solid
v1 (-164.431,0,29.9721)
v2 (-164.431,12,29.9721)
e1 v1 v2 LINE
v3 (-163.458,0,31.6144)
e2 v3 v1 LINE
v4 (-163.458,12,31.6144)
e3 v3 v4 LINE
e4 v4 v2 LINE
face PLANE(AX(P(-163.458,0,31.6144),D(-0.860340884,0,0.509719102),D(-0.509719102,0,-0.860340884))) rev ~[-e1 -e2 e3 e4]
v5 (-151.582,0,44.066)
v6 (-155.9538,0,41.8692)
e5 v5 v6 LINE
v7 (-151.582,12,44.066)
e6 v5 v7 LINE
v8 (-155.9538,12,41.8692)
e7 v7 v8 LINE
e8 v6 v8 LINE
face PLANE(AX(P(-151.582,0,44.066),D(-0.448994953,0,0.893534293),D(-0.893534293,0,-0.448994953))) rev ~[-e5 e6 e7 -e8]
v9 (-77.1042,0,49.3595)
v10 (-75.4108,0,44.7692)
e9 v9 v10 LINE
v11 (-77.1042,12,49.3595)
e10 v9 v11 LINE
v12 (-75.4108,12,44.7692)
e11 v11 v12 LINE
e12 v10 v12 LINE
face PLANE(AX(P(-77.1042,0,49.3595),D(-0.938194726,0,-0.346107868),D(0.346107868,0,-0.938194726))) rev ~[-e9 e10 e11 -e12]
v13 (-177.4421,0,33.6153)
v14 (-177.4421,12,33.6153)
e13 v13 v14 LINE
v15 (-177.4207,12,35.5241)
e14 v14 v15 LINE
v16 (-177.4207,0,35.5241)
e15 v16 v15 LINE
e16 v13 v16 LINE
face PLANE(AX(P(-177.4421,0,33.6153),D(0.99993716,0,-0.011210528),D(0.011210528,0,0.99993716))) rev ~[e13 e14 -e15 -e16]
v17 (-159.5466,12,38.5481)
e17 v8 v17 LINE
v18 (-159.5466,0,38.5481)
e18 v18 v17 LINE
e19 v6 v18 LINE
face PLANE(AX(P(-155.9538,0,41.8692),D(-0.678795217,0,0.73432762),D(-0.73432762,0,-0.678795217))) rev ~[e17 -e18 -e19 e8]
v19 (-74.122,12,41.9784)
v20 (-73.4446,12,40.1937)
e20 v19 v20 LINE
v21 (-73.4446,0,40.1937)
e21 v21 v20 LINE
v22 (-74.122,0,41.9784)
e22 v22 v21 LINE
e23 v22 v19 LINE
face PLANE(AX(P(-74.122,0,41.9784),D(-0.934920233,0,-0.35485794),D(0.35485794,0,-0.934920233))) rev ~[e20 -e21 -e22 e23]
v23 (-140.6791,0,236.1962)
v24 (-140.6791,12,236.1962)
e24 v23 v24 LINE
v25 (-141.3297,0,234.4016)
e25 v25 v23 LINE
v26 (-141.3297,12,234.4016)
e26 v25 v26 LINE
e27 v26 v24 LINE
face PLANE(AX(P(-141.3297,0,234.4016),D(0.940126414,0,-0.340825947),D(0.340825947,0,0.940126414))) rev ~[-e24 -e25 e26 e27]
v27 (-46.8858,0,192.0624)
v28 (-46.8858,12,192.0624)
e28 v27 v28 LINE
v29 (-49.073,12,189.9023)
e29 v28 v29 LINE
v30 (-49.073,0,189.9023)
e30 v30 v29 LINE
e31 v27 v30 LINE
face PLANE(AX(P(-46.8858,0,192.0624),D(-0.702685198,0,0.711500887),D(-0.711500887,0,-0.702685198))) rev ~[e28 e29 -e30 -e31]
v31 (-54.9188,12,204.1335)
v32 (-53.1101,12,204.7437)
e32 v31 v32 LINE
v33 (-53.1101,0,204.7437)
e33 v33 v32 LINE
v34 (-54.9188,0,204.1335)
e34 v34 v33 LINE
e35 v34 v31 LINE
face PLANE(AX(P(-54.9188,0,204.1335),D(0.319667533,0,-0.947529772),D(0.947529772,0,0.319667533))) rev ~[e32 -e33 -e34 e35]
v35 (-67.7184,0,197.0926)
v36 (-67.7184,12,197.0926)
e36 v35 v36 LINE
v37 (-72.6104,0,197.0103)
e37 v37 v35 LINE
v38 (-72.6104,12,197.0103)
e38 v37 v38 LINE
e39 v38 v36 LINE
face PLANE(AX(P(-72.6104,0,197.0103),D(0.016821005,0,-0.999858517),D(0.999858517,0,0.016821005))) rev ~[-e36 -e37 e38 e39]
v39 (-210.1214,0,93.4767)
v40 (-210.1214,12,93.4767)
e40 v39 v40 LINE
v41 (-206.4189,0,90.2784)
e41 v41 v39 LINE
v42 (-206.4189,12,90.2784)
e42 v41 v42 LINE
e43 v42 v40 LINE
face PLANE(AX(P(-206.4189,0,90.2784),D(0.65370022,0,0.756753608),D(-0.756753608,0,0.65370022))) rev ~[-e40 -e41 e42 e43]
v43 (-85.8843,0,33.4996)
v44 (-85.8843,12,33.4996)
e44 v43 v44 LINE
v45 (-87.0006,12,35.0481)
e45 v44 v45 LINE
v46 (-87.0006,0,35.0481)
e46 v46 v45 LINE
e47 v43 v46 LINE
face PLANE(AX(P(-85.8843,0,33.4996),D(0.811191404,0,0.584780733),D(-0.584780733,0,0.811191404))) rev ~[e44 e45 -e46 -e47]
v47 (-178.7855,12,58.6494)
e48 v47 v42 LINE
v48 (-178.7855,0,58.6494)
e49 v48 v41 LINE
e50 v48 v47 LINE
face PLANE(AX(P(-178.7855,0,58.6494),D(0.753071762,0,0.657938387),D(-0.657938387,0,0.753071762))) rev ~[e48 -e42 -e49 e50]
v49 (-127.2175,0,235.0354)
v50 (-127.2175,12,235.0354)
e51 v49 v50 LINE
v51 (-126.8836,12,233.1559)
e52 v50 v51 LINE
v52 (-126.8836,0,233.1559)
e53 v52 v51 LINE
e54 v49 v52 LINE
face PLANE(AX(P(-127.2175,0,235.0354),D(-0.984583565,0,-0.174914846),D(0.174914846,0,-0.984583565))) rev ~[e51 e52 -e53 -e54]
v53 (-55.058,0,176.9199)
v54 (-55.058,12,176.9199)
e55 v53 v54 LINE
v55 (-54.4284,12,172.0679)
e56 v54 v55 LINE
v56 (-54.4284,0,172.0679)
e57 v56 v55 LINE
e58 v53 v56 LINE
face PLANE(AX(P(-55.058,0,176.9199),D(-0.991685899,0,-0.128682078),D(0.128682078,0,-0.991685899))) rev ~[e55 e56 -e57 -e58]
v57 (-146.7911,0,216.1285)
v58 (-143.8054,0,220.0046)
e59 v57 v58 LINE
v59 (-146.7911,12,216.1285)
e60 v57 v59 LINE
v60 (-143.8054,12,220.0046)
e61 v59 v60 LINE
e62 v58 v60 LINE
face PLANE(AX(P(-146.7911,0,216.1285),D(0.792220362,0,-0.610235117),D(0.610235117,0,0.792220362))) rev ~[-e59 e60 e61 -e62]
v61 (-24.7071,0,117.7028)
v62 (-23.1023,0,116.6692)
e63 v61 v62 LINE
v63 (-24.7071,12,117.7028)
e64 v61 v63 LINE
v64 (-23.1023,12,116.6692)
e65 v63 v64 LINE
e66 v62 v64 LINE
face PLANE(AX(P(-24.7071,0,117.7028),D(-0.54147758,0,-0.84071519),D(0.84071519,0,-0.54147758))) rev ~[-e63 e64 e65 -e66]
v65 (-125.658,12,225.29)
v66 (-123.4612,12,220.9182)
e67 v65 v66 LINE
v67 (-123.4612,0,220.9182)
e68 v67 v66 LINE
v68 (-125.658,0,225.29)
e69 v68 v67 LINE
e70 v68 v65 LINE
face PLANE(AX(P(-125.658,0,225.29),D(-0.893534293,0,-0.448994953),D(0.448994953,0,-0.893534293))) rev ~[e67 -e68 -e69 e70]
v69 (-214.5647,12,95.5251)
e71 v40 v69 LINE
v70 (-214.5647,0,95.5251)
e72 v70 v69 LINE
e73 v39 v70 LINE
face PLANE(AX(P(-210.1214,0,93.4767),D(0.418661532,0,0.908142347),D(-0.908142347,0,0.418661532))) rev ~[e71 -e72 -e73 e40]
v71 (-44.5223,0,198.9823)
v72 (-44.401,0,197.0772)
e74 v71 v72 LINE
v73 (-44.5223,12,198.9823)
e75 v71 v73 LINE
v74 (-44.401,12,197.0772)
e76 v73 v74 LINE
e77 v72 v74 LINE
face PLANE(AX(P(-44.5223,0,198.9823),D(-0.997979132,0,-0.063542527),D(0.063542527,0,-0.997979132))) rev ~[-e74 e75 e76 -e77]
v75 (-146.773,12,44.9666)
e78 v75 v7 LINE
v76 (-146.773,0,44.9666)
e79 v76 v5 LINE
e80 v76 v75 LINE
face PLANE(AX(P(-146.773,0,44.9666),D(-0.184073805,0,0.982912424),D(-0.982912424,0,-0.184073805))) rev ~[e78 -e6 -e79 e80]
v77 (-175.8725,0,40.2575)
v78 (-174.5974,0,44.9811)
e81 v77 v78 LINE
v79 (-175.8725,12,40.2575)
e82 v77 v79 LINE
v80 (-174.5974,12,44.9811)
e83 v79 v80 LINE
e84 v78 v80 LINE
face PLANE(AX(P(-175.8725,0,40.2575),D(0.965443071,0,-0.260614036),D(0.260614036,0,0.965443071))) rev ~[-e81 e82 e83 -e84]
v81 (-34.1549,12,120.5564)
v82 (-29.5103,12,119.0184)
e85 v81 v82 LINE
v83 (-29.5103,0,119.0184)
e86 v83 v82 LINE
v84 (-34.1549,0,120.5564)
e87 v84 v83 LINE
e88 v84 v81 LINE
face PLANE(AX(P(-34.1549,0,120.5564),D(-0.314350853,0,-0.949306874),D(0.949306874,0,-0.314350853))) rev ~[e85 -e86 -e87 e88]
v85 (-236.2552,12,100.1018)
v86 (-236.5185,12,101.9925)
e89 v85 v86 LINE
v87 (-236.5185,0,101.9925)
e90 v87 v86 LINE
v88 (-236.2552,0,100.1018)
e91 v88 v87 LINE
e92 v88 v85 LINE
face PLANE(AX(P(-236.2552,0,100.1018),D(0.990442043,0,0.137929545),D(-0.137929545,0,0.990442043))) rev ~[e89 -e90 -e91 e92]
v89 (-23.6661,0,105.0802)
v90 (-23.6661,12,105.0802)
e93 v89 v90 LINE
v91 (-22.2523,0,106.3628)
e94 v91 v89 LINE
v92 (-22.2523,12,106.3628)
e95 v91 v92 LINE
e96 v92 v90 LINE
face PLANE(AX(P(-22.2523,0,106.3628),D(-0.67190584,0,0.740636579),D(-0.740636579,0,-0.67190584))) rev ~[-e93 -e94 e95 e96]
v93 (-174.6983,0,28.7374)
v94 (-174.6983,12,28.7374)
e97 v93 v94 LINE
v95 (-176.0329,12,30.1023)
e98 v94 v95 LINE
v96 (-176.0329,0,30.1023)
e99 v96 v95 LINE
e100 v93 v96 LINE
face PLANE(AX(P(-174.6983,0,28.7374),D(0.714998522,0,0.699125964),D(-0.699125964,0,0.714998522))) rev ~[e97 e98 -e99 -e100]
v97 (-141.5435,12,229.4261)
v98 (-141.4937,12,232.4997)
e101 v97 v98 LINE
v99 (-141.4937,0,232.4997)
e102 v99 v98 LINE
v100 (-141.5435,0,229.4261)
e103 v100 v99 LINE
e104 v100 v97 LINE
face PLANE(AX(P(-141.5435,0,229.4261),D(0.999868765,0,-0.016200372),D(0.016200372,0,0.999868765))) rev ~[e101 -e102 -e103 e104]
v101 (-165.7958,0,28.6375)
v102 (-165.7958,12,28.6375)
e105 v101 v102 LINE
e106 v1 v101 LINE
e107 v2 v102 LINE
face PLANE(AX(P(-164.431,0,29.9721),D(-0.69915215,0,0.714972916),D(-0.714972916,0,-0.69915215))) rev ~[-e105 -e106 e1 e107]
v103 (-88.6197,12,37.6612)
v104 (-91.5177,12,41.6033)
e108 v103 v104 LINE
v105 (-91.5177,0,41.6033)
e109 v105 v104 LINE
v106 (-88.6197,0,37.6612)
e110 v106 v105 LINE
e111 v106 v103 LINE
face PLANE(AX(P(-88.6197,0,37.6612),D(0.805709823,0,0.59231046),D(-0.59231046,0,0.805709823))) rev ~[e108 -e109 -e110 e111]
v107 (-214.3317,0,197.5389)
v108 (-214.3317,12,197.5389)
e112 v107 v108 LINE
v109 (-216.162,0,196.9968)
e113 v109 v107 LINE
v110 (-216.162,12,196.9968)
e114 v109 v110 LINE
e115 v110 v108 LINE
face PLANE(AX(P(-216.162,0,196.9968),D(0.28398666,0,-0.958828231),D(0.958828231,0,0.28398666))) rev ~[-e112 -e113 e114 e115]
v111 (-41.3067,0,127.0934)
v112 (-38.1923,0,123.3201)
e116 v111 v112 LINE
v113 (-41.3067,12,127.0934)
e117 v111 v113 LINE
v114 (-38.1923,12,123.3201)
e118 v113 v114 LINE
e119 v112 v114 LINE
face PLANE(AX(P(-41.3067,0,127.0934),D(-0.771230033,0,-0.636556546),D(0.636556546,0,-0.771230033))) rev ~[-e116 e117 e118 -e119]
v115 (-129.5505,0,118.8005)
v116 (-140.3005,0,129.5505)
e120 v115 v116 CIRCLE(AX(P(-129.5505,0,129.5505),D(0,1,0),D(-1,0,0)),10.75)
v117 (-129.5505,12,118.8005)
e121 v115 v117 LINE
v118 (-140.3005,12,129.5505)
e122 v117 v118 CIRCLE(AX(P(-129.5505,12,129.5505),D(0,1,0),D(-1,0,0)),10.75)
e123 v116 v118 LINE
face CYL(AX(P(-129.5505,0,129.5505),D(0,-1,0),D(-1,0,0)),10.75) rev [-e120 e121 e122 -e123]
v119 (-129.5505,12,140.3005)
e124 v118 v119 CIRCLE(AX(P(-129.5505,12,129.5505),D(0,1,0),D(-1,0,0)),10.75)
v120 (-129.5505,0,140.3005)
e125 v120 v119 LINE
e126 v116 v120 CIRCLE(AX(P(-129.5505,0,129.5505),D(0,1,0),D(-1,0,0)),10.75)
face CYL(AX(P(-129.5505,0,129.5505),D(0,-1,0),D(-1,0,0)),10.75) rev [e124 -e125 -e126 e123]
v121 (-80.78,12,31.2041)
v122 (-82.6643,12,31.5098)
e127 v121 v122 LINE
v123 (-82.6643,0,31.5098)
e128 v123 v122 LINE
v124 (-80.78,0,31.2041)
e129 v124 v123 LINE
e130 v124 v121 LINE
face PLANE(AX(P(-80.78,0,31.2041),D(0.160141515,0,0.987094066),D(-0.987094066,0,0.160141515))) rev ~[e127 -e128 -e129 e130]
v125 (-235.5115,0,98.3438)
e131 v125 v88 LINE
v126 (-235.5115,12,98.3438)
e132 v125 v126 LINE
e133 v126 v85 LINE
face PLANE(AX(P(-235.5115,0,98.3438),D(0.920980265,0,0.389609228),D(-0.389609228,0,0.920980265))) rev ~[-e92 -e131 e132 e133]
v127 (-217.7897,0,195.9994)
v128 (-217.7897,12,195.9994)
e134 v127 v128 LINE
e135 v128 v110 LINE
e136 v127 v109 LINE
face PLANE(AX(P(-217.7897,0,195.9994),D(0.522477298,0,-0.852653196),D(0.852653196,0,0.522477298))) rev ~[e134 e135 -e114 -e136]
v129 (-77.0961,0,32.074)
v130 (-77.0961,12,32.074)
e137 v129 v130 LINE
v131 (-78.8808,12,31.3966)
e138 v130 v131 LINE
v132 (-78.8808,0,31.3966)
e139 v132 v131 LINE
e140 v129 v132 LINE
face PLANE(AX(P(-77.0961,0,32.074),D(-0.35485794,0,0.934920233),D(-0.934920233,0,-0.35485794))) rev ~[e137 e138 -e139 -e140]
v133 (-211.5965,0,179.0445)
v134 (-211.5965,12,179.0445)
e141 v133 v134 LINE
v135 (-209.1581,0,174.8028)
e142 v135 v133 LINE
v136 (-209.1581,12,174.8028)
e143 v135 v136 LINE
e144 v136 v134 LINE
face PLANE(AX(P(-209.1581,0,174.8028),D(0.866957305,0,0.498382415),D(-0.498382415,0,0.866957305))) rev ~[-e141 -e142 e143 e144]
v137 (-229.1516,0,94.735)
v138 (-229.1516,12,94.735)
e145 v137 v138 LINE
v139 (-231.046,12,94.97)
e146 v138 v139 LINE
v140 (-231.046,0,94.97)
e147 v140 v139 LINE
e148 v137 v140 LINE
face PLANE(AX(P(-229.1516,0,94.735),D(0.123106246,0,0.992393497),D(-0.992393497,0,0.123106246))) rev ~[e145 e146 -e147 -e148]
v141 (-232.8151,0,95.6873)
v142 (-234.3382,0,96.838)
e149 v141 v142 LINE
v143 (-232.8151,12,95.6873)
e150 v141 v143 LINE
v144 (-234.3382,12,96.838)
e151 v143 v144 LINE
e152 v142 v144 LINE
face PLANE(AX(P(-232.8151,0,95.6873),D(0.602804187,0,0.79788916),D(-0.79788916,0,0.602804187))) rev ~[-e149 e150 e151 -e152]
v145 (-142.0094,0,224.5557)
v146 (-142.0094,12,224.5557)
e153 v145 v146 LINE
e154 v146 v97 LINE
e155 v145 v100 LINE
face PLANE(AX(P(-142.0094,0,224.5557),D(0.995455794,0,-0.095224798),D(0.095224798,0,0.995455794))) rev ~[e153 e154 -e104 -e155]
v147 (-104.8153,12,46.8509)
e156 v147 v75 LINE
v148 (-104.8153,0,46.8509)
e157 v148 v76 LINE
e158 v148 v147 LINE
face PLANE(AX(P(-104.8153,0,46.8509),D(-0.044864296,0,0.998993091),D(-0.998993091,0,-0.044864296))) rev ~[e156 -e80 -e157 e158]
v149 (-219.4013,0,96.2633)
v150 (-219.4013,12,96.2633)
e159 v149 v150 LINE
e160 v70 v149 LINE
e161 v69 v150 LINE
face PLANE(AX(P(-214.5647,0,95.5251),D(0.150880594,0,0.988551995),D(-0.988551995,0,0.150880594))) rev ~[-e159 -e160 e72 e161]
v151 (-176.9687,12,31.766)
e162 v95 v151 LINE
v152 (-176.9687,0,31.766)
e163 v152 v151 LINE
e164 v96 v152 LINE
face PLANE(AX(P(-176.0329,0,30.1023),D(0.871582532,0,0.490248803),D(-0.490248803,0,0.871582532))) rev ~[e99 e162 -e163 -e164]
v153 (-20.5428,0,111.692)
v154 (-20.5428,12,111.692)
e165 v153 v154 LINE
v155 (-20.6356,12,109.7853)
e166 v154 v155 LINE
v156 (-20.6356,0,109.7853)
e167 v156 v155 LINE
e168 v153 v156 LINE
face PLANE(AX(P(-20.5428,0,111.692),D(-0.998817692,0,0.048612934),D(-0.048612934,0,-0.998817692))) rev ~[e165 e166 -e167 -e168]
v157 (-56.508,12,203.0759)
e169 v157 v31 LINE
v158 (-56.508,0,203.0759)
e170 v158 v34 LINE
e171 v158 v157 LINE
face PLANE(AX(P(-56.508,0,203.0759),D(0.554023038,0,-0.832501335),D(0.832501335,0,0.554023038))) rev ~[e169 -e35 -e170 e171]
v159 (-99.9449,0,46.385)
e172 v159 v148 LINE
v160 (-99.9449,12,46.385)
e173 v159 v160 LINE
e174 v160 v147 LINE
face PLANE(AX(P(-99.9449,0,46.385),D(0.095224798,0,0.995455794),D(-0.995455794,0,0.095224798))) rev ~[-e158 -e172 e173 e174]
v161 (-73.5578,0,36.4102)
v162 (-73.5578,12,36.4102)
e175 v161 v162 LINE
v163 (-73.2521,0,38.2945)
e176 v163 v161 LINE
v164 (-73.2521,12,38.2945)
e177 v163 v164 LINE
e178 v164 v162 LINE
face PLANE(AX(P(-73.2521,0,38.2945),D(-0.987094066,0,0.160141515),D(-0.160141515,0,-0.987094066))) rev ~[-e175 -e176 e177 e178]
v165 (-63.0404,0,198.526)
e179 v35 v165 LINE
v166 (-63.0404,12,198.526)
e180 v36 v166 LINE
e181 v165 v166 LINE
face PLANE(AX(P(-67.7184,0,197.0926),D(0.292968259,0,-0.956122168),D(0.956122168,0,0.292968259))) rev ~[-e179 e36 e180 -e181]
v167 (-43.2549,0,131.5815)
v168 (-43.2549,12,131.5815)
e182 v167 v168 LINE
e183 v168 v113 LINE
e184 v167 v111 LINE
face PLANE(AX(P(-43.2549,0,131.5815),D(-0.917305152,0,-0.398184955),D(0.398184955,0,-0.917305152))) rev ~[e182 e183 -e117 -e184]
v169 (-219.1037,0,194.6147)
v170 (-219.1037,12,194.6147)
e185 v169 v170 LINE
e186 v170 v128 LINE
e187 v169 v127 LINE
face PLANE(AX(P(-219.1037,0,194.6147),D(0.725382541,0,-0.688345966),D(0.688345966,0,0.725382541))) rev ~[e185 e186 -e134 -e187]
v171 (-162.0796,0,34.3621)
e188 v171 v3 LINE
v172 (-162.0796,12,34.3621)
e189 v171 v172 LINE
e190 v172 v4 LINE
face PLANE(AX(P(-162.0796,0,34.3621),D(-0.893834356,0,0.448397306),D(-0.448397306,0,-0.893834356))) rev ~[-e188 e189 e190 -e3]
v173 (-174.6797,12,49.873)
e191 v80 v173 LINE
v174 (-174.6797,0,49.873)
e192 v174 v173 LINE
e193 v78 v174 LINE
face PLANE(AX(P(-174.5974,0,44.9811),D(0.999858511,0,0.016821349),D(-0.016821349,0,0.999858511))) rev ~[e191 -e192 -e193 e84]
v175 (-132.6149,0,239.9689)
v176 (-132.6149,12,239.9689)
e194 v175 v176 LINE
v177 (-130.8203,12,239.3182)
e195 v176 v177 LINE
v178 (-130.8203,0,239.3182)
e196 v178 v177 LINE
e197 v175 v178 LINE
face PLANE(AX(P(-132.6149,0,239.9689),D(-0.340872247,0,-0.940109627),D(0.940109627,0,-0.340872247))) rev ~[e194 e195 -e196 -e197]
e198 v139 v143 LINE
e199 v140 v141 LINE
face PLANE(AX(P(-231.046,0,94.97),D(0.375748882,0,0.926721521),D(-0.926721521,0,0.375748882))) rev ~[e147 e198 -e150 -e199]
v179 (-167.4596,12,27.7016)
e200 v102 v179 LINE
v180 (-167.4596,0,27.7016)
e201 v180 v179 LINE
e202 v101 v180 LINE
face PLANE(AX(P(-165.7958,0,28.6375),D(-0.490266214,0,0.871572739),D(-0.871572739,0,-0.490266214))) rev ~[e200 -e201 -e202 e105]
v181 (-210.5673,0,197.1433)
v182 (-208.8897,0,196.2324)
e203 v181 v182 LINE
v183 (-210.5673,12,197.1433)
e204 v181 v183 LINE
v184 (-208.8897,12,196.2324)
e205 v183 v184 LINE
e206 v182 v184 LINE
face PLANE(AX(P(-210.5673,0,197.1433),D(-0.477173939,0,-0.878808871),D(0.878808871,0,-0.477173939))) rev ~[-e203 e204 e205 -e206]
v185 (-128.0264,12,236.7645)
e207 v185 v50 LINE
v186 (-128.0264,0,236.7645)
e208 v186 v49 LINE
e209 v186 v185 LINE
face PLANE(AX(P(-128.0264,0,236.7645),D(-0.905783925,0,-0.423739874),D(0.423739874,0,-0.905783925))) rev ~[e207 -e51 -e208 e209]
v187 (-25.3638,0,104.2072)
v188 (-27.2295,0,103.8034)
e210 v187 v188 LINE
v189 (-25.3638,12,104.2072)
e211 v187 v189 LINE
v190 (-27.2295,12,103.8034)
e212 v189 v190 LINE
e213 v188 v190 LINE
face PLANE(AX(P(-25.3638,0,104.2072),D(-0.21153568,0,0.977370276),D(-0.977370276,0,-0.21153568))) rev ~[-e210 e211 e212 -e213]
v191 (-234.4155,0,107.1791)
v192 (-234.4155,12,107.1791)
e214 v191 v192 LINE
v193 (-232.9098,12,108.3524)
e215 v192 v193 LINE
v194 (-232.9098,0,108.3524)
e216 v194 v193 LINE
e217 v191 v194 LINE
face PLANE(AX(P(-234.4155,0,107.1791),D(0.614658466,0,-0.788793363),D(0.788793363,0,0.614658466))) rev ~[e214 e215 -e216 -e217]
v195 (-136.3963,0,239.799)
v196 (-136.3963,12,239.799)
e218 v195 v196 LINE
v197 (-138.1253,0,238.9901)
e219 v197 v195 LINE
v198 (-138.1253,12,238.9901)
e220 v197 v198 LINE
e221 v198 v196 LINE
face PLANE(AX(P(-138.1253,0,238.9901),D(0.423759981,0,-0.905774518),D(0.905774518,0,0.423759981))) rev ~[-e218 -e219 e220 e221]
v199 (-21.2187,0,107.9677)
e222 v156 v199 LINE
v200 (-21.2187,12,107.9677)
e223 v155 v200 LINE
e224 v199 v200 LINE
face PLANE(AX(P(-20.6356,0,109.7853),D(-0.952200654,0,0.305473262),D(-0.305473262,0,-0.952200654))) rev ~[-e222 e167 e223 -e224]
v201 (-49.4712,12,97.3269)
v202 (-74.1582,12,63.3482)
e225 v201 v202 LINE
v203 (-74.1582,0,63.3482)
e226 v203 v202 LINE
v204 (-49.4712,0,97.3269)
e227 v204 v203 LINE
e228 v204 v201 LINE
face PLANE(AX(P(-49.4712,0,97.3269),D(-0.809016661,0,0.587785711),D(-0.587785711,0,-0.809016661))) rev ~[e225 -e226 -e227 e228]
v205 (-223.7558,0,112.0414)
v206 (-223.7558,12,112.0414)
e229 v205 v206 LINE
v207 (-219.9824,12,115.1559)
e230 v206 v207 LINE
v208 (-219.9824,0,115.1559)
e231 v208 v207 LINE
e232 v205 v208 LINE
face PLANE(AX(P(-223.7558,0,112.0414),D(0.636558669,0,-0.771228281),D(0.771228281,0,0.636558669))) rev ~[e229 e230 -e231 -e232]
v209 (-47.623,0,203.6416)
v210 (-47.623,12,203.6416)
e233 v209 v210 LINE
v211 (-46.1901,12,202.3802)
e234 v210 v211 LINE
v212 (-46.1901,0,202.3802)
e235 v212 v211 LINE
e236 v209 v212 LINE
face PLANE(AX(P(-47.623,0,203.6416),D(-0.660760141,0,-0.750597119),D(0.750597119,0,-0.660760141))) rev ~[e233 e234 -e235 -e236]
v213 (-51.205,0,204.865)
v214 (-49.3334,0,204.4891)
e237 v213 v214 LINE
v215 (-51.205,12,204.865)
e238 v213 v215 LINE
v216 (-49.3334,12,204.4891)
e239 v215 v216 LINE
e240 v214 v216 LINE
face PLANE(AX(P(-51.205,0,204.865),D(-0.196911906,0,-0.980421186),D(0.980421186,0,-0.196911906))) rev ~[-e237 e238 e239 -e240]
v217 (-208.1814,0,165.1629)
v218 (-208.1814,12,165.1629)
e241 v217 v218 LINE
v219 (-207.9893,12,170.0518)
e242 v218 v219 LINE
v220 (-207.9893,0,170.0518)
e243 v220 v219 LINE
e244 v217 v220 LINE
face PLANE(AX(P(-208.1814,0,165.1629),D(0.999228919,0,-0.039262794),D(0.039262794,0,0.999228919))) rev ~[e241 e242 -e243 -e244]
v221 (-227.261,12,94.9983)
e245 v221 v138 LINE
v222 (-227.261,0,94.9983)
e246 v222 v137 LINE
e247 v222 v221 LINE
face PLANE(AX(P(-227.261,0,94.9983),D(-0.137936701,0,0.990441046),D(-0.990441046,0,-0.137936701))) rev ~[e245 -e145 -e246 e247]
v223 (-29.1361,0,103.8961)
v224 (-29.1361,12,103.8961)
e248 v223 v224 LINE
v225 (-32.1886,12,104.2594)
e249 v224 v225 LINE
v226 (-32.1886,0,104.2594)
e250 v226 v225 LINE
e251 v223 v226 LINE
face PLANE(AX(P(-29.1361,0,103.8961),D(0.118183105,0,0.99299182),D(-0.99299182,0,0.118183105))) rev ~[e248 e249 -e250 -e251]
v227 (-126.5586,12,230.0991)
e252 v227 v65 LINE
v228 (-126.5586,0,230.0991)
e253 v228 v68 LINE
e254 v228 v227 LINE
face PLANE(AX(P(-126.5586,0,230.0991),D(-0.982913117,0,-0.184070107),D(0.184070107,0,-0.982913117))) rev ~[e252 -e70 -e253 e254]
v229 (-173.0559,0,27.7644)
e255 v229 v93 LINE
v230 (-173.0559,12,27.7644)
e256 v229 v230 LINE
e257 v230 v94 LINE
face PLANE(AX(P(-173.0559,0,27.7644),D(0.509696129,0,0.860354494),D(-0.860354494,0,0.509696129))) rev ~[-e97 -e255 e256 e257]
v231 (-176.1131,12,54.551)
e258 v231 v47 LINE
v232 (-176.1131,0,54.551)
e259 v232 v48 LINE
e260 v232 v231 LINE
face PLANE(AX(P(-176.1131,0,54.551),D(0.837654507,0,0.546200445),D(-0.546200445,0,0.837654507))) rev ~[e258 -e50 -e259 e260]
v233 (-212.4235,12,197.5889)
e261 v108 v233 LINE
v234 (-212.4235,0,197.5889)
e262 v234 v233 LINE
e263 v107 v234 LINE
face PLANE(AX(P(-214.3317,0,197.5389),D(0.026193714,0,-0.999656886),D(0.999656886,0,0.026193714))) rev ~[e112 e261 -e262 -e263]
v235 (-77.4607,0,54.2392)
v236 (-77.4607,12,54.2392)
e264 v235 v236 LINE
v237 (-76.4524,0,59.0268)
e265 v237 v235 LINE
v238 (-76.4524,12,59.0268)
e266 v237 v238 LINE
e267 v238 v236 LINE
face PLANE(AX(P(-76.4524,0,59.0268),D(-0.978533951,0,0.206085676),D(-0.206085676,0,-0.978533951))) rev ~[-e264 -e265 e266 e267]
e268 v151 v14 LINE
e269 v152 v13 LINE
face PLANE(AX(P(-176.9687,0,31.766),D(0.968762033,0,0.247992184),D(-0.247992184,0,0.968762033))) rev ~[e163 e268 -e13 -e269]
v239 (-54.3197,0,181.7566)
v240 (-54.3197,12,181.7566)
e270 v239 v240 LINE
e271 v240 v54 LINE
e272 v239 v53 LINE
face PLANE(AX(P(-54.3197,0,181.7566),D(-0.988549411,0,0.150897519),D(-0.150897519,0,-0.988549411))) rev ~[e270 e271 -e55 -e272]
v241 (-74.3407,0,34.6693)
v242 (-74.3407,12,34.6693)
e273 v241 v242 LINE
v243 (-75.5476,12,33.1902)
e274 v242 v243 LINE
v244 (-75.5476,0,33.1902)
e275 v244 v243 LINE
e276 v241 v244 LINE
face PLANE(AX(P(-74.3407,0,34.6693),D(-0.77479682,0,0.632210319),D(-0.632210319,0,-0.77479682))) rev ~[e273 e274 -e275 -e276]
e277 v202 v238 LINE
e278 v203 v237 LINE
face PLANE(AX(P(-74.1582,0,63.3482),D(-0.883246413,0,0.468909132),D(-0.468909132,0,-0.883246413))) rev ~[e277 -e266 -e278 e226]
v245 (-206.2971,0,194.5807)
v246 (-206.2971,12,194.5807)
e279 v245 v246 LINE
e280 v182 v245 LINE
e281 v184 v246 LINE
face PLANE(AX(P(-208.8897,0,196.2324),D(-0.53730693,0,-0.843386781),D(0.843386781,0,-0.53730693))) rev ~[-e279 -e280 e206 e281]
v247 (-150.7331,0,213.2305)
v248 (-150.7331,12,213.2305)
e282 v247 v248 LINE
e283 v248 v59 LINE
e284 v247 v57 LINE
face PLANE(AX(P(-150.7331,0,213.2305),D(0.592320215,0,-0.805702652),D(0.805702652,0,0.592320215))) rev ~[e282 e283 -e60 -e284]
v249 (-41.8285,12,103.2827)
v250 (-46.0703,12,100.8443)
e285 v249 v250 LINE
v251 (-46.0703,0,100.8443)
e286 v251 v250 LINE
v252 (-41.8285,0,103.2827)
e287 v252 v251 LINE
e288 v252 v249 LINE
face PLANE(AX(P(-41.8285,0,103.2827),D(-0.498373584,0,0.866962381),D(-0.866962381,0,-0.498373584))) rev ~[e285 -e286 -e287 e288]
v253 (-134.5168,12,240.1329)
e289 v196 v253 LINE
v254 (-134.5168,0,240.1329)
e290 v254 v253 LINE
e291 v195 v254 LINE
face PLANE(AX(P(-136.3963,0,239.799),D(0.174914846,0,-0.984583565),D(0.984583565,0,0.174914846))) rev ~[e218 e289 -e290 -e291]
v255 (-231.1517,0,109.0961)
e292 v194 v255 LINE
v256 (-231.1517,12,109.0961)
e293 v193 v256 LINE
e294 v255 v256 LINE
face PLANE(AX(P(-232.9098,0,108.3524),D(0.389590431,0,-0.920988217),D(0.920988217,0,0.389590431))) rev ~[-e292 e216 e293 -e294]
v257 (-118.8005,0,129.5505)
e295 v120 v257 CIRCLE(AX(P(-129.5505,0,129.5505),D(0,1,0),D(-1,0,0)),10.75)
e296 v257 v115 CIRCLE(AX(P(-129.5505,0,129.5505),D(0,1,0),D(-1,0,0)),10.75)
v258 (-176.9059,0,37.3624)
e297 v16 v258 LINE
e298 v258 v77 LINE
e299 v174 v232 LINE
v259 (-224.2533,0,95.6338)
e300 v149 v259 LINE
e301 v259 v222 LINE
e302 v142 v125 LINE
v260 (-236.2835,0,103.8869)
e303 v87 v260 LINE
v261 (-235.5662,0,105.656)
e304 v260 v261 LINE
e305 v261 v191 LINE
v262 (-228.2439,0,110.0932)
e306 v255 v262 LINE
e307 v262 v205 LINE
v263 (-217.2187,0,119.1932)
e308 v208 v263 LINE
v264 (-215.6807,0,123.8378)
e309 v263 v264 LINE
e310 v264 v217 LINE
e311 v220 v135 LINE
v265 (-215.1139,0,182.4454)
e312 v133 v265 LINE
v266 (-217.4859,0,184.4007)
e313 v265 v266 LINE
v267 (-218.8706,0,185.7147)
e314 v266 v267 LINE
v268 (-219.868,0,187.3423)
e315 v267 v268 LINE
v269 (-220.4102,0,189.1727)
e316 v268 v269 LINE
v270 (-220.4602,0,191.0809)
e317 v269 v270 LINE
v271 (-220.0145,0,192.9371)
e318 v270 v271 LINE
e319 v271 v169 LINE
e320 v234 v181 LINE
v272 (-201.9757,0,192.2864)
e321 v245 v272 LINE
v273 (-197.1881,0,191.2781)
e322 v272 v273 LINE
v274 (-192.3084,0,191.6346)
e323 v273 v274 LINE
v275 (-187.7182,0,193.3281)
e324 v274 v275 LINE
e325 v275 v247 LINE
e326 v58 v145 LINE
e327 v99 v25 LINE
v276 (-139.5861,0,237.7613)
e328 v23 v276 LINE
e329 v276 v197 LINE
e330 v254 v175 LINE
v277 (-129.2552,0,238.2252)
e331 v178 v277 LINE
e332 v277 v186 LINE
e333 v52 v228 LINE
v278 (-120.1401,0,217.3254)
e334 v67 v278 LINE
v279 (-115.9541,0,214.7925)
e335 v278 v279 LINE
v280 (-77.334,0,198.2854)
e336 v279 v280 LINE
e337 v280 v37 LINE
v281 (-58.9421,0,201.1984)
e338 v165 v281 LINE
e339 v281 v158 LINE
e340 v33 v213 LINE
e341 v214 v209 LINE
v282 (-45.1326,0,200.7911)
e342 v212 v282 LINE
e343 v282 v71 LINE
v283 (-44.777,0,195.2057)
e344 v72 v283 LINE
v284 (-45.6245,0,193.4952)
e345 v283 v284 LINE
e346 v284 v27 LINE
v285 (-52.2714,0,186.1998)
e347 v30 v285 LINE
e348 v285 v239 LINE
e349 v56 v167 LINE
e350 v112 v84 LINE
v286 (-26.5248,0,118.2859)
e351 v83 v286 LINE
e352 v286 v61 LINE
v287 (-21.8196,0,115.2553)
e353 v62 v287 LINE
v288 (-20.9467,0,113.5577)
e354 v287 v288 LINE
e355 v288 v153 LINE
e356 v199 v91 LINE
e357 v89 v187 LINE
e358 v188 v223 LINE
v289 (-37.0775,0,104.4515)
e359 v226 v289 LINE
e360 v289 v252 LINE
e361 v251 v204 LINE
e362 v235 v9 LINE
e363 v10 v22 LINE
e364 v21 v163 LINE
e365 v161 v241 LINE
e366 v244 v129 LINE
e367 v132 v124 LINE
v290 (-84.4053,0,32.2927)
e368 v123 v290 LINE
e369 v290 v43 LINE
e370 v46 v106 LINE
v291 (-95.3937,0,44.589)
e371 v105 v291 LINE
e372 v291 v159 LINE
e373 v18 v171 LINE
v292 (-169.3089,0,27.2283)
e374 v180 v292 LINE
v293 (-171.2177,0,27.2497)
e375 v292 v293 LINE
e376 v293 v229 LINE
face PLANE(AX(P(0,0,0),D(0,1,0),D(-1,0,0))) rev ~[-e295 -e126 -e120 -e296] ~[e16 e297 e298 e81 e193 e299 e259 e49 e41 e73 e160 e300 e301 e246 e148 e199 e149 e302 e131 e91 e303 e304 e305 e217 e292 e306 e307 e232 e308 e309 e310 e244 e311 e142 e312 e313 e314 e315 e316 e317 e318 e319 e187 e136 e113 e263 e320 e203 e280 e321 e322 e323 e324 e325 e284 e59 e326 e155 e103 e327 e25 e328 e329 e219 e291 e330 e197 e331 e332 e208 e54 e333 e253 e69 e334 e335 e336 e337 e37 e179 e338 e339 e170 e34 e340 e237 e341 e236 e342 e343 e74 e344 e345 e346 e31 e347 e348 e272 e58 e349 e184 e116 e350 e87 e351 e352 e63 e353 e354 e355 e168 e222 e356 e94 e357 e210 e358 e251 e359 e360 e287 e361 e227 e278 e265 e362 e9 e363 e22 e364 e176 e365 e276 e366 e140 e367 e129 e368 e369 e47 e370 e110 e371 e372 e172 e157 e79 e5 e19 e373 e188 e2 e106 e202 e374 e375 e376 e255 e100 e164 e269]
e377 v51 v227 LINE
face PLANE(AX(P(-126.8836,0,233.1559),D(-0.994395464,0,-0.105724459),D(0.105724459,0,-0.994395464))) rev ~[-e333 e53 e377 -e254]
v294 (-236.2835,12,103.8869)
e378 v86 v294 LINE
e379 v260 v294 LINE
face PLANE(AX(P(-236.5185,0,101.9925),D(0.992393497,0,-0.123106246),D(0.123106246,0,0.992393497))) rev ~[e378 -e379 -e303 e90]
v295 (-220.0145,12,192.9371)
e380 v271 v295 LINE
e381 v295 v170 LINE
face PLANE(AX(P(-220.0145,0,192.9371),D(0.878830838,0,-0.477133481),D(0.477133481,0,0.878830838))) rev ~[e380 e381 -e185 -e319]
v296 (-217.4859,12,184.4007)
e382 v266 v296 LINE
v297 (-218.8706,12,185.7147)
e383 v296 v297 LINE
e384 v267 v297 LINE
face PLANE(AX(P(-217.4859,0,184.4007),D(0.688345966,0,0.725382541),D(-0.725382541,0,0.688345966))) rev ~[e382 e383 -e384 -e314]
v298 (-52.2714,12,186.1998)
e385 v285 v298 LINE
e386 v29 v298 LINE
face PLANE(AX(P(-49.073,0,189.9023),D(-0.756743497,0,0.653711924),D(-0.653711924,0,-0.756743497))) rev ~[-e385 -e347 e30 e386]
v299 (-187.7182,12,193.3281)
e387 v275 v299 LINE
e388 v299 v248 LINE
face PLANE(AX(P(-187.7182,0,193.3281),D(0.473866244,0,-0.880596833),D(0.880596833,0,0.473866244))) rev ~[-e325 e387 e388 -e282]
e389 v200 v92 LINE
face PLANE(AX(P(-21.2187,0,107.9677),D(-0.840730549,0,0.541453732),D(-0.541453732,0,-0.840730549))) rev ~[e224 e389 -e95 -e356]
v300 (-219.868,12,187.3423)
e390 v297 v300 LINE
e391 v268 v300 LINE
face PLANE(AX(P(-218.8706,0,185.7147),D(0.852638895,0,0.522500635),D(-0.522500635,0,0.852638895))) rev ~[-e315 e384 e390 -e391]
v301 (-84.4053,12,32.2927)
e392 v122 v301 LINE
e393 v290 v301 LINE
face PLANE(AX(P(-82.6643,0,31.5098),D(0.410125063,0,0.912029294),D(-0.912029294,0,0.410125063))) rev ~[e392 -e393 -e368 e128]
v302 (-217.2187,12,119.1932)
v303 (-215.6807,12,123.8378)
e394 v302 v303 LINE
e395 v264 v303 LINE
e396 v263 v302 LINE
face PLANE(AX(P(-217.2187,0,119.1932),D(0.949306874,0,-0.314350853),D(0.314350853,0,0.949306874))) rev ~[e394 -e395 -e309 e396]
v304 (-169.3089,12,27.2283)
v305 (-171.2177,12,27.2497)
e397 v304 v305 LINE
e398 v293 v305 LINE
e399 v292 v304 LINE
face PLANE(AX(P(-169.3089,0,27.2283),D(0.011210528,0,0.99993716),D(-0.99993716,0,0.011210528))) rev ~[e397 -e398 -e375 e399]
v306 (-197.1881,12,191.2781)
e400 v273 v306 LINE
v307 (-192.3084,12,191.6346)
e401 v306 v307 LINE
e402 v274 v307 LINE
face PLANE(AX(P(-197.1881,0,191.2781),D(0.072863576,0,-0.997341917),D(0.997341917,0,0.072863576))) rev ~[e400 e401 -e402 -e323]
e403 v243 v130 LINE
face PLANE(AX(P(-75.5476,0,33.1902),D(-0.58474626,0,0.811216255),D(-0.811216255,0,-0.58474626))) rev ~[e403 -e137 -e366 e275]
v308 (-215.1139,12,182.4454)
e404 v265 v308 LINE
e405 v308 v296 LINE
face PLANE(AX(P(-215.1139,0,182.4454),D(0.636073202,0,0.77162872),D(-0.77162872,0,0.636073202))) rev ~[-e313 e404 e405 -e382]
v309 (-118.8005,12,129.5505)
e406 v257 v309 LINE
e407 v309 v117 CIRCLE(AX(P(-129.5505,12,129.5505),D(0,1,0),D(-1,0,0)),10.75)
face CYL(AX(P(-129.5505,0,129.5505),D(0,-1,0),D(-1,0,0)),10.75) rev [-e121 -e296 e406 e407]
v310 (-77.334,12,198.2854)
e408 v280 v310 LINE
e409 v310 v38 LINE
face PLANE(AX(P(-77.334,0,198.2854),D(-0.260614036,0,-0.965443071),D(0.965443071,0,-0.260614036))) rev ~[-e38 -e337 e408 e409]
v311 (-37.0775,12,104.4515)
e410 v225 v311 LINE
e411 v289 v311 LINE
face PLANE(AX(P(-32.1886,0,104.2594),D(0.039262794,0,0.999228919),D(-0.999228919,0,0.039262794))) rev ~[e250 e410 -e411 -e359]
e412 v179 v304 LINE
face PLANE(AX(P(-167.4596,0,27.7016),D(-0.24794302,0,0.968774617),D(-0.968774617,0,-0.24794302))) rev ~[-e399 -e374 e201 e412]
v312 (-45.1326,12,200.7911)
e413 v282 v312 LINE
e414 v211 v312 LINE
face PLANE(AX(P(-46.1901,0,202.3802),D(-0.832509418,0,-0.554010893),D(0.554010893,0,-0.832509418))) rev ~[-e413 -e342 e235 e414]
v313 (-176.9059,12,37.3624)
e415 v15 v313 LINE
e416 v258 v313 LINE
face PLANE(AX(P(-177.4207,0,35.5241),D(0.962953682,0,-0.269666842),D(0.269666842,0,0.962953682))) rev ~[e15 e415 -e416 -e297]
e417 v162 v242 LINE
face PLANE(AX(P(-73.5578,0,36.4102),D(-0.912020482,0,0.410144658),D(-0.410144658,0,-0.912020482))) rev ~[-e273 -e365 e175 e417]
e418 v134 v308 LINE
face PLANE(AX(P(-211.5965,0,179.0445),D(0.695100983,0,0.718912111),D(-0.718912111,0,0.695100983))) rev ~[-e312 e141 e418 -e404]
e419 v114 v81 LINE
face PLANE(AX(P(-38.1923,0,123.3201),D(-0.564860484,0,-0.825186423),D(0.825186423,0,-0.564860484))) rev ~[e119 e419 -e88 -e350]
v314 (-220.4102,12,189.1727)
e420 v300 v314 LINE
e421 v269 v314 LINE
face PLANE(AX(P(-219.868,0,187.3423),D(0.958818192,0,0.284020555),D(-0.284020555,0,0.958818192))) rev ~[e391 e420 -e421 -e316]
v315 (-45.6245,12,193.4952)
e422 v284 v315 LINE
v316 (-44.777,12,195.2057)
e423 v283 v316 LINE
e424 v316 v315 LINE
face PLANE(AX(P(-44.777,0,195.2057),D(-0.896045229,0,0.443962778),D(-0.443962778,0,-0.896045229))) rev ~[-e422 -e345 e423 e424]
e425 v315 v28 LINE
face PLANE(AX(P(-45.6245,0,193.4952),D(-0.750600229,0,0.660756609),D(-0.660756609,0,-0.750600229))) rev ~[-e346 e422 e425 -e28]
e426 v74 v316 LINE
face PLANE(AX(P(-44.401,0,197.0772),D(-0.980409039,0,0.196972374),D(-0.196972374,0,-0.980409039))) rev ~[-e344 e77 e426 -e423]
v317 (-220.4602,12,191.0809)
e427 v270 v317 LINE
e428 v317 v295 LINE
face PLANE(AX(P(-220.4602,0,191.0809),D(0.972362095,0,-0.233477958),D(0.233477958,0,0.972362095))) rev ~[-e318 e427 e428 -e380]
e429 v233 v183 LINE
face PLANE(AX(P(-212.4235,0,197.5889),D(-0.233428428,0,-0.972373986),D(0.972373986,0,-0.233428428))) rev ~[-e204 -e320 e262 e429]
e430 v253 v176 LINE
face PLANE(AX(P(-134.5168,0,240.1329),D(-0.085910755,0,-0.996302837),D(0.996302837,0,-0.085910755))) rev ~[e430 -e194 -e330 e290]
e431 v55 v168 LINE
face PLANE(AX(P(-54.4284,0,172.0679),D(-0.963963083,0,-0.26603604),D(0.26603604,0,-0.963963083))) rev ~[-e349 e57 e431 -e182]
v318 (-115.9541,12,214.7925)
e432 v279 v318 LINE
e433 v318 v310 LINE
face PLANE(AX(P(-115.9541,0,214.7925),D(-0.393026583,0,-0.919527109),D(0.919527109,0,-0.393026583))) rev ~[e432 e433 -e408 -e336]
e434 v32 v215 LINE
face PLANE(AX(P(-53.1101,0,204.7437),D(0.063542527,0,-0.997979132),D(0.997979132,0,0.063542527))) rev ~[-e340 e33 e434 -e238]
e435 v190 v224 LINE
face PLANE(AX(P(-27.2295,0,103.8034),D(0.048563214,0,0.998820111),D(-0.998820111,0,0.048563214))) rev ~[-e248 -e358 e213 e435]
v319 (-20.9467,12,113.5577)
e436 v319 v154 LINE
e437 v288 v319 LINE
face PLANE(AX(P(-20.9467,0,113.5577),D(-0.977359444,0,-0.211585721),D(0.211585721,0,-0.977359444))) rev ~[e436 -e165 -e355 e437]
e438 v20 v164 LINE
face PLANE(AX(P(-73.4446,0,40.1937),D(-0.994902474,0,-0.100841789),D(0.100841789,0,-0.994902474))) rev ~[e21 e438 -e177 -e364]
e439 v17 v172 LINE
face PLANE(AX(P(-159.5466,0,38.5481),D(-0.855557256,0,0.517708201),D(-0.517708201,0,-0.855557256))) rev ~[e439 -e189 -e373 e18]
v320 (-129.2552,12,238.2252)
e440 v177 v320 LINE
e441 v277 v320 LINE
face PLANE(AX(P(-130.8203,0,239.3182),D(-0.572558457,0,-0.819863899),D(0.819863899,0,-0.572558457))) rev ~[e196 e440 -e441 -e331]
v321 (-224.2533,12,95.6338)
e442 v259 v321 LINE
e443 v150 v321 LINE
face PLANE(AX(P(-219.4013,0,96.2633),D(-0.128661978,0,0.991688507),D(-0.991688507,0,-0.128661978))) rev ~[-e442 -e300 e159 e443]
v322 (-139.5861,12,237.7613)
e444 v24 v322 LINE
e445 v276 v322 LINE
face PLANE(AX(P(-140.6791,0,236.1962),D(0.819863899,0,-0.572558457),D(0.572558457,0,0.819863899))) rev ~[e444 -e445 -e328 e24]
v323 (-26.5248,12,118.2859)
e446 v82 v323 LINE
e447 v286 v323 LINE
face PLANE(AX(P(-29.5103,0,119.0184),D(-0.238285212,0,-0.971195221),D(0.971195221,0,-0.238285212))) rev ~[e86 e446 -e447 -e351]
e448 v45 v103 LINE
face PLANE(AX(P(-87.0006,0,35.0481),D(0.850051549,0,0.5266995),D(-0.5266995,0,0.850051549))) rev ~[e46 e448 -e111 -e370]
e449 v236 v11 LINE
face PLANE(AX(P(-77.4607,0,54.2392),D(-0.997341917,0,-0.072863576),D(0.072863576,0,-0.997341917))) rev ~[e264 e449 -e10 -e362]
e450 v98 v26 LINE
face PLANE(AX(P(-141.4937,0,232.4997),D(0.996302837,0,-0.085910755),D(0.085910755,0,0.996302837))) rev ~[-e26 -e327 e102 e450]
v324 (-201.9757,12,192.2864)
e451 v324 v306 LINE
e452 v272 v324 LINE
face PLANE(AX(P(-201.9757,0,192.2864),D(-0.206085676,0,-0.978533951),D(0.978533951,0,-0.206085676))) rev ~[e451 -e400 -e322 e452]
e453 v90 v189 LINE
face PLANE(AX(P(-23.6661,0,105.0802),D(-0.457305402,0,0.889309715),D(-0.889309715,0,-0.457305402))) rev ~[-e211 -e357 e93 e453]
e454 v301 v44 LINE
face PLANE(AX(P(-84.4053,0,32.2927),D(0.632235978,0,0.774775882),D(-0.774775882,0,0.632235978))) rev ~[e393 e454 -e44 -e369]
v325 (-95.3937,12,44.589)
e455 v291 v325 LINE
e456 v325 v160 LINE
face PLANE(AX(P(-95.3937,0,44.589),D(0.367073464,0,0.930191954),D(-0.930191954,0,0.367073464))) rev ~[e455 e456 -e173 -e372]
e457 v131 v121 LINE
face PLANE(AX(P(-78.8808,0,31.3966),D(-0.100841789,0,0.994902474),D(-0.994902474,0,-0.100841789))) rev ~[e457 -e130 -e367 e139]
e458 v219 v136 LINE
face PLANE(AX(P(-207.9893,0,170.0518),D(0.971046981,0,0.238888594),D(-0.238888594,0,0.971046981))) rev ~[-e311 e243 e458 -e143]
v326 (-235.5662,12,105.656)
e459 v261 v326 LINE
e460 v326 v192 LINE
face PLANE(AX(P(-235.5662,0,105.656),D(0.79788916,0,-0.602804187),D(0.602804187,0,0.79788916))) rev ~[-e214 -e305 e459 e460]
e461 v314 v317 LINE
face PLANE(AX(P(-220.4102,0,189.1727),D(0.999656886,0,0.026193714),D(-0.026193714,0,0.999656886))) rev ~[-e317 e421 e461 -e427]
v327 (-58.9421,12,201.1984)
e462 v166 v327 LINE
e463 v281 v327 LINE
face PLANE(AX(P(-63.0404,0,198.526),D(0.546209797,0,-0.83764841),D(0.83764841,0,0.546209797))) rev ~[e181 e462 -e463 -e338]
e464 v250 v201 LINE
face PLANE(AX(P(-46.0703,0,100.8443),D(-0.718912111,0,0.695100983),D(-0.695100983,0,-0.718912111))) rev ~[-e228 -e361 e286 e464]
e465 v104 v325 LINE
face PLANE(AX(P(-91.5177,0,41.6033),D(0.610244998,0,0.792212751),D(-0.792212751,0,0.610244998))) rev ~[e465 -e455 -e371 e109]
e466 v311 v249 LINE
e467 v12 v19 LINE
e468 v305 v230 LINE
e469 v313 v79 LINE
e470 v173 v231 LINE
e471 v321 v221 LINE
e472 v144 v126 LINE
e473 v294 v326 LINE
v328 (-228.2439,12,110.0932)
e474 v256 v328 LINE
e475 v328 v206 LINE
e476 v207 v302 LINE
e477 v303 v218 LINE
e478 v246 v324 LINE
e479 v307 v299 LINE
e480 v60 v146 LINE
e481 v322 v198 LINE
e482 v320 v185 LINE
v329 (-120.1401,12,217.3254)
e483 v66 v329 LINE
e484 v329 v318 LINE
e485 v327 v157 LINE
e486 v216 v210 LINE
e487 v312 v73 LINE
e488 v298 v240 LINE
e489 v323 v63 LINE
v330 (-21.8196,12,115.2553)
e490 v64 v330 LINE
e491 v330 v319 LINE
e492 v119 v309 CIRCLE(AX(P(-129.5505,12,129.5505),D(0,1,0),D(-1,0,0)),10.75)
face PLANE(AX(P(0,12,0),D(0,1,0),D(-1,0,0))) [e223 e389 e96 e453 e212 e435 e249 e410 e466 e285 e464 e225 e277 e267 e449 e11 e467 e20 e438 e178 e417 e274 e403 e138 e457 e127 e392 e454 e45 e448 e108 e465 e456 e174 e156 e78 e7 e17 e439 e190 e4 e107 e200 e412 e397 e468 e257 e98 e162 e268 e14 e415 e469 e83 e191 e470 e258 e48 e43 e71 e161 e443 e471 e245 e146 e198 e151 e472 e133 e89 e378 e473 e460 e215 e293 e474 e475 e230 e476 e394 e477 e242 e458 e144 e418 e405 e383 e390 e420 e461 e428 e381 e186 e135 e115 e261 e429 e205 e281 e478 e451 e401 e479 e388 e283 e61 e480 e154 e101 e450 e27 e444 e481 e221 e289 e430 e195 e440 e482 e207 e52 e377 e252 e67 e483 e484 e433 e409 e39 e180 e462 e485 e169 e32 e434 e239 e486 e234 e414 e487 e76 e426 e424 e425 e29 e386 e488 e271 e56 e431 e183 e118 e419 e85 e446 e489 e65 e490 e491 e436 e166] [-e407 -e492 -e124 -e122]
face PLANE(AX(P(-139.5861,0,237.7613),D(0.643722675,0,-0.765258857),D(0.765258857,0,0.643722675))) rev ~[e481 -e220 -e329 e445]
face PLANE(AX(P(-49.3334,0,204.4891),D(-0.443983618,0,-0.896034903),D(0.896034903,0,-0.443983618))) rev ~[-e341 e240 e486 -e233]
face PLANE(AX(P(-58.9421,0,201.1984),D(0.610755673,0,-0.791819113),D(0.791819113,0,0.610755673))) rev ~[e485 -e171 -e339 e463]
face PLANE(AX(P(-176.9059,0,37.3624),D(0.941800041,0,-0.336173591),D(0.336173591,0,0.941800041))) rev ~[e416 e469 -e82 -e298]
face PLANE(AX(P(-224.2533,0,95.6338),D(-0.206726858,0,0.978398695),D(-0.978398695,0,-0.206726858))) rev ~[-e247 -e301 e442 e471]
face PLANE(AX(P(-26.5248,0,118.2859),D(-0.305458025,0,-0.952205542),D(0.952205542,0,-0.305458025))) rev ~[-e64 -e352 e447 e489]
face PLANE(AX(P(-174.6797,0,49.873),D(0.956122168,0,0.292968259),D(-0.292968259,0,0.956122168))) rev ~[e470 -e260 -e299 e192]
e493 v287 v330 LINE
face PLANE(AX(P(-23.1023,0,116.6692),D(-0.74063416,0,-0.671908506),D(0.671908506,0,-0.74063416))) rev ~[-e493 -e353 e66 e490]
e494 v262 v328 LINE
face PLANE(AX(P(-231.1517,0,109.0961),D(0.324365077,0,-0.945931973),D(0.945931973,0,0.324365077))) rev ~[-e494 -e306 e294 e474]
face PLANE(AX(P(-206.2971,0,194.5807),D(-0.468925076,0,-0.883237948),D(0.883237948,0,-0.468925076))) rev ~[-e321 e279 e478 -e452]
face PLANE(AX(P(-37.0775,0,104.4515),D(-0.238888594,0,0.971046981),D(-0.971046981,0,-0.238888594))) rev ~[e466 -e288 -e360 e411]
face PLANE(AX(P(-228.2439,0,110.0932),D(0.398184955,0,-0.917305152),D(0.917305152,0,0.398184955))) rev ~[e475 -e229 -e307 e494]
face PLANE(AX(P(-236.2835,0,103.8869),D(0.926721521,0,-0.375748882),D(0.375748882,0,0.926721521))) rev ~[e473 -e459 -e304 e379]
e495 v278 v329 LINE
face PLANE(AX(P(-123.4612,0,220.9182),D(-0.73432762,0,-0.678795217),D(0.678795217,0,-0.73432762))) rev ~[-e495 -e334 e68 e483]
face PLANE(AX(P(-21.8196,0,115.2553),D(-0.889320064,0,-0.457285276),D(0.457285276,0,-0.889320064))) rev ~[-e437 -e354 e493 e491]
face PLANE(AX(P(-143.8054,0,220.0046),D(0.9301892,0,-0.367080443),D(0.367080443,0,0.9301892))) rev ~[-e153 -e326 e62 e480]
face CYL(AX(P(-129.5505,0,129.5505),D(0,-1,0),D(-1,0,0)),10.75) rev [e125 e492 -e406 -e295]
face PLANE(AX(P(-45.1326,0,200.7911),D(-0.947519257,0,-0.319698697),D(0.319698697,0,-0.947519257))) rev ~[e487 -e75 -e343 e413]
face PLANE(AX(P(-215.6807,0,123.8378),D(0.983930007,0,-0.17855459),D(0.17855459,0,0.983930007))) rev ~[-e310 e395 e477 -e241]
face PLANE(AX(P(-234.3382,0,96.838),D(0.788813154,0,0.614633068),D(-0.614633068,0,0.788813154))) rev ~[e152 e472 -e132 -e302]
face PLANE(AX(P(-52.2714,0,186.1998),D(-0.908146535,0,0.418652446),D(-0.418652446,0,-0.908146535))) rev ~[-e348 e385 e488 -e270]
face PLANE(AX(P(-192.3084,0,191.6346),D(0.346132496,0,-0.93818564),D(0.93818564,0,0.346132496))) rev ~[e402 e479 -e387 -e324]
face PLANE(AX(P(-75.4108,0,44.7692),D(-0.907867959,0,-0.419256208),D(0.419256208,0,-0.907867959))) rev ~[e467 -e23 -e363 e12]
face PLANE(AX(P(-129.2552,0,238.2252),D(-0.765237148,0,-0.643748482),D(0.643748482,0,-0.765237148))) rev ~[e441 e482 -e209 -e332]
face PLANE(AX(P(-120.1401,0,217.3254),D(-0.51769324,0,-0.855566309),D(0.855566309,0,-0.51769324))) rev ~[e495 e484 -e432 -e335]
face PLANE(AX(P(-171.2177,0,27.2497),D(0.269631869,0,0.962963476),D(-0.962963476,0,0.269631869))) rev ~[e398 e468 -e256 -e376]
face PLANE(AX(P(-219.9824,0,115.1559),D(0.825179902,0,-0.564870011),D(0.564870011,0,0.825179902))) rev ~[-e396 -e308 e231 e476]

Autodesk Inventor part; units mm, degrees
ref_plane "YZ Plane" through (0, 0, 0) normal (1, 0, 0) x (0, 1, 0)
ref_plane "XZ Plane" through (0, 0, 0) normal (0, 1, 0) x (-1, 0, 0)
ref_plane "XY Plane" through (0, 0, 0) normal (0, 0, 1) x (1, 0, 0)
sketch "Sketch2" plane through (0, 0, 0) normal (0, 1, 0) x (-1, 0, 0)
  line L0 (77.8598, 129.5505) -> (181.2412, 129.5505)
  line L1 (129.5505, 77.8598) -> (129.5505, 181.2412)
  line L2 (208.1814, 165.1629) -> (207.9893, 170.0518)
  line L3 (207.9893, 170.0518) -> (209.1581, 174.8028)
  line L4 (209.1581, 174.8028) -> (211.5965, 179.0445)
  line L5 (211.5965, 179.0445) -> (215.1139, 182.4454)
  line L6 (215.1139, 182.4454) -> (217.4859, 184.4007)
  line L7 (217.4859, 184.4007) -> (218.8706, 185.7147)
  line L8 (218.8706, 185.7147) -> (219.868, 187.3423)
  line L9 (219.868, 187.3423) -> (220.4102, 189.1727)
  line L10 (220.4102, 189.1727) -> (220.4602, 191.0809)
  line L11 (220.4602, 191.0809) -> (220.0145, 192.9371)
  line L12 (220.0145, 192.9371) -> (219.1037, 194.6147)
  line L13 (219.1037, 194.6147) -> (217.7897, 195.9994)
  line L14 (217.7897, 195.9994) -> (216.162, 196.9968)
  line L15 (216.162, 196.9968) -> (214.3317, 197.5389)
  line L16 (214.3317, 197.5389) -> (212.4235, 197.5889)
  line L17 (212.4235, 197.5889) -> (210.5673, 197.1433)
  line L18 (210.5673, 197.1433) -> (208.8897, 196.2324)
  line L19 (208.8897, 196.2324) -> (206.2971, 194.5807)
  line L20 (206.2971, 194.5807) -> (201.9757, 192.2864)
  line L21 (201.9757, 192.2864) -> (197.1881, 191.2781)
  line L22 (197.1881, 191.2781) -> (192.3084, 191.6346)
  line L23 (192.3084, 191.6346) -> (187.7182, 193.3281)
  line L24 (187.7182, 193.3281) -> (150.7331, 213.2305)
  line L25 (150.7331, 213.2305) -> (146.7911, 216.1285)
  line L26 (146.7911, 216.1285) -> (143.8054, 220.0046)
  line L27 (143.8054, 220.0046) -> (142.0094, 224.5557)
  line L28 (142.0094, 224.5557) -> (141.5435, 229.4261)
  line L29 (141.5435, 229.4261) -> (141.4937, 232.4997)
  line L30 (141.4937, 232.4997) -> (141.3297, 234.4016)
  line L31 (141.3297, 234.4016) -> (140.6791, 236.1962)
  line L32 (140.6791, 236.1962) -> (139.5861, 237.7613)
  line L33 (139.5861, 237.7613) -> (138.1253, 238.9901)
  line L34 (138.1253, 238.9901) -> (136.3963, 239.799)
  line L35 (136.3963, 239.799) -> (134.5168, 240.1329)
  line L36 (134.5168, 240.1329) -> (132.6149, 239.9689)
  line L37 (132.6149, 239.9689) -> (130.8203, 239.3182)
  line L38 (130.8203, 239.3182) -> (129.2552, 238.2252)
  line L39 (129.2552, 238.2252) -> (128.0264, 236.7645)
  line L40 (128.0264, 236.7645) -> (127.2175, 235.0354)
  line L41 (127.2175, 235.0354) -> (126.8836, 233.1559)
  line L42 (126.8836, 233.1559) -> (126.5586, 230.0991)
  line L43 (126.5586, 230.0991) -> (125.658, 225.29)
  line L44 (125.658, 225.29) -> (123.4612, 220.9182)
  line L45 (123.4612, 220.9182) -> (120.1401, 217.3254)
  line L46 (120.1401, 217.3254) -> (115.9541, 214.7925)
  line L47 (115.9541, 214.7925) -> (77.334, 198.2854)
  line L48 (77.334, 198.2854) -> (72.6104, 197.0103)
  line L49 (72.6104, 197.0103) -> (67.7184, 197.0926)
  line L50 (67.7184, 197.0926) -> (63.0404, 198.526)
  line L51 (63.0404, 198.526) -> (58.9421, 201.1984)
  line L52 (58.9421, 201.1984) -> (56.508, 203.0759)
  line L53 (56.508, 203.0759) -> (54.9188, 204.1335)
  line L54 (54.9188, 204.1335) -> (53.1101, 204.7437)
  line L55 (53.1101, 204.7437) -> (51.205, 204.865)
  line L56 (51.205, 204.865) -> (49.3334, 204.4891)
  line L57 (49.3334, 204.4891) -> (47.623, 203.6416)
  line L58 (47.623, 203.6416) -> (46.1901, 202.3802)
  line L59 (46.1901, 202.3802) -> (45.1326, 200.7911)
  line L60 (45.1326, 200.7911) -> (44.5223, 198.9823)
  line L61 (44.5223, 198.9823) -> (44.401, 197.0772)
  line L62 (44.401, 197.0772) -> (44.777, 195.2057)
  line L63 (44.777, 195.2057) -> (45.6245, 193.4952)
  line L64 (45.6245, 193.4952) -> (46.8858, 192.0624)
  line L65 (46.8858, 192.0624) -> (49.073, 189.9023)
  line L66 (49.073, 189.9023) -> (52.2714, 186.1998)
  line L67 (52.2714, 186.1998) -> (54.3197, 181.7566)
  line L68 (54.3197, 181.7566) -> (55.058, 176.9199)
  line L69 (55.058, 176.9199) -> (54.4284, 172.0679)
  line L70 (54.4284, 172.0679) -> (43.2549, 131.5815)
  line L71 (43.2549, 131.5815) -> (41.3067, 127.0934)
  line L72 (41.3067, 127.0934) -> (38.1923, 123.3201)
  line L73 (38.1923, 123.3201) -> (34.1549, 120.5564)
  line L74 (34.1549, 120.5564) -> (29.5103, 119.0184)
  line L75 (29.5103, 119.0184) -> (26.5248, 118.2859)
  line L76 (26.5248, 118.2859) -> (24.7071, 117.7028)
  line L77 (24.7071, 117.7028) -> (23.1023, 116.6692)
  line L78 (23.1023, 116.6692) -> (21.8196, 115.2553)
  line L79 (21.8196, 115.2553) -> (20.9467, 113.5577)
  line L80 (20.9467, 113.5577) -> (20.5428, 111.692)
  line L81 (20.5428, 111.692) -> (20.6356, 109.7853)
  line L82 (20.6356, 109.7853) -> (21.2187, 107.9677)
  line L83 (21.2187, 107.9677) -> (22.2523, 106.3628)
  line L84 (22.2523, 106.3628) -> (23.6661, 105.0802)
  line L85 (23.6661, 105.0802) -> (25.3638, 104.2072)
  line L86 (25.3638, 104.2072) -> (27.2295, 103.8034)
  line L87 (27.2295, 103.8034) -> (29.1361, 103.8961)
  line L88 (29.1361, 103.8961) -> (32.1886, 104.2594)
  line L89 (32.1886, 104.2594) -> (37.0775, 104.4515)
  line L90 (37.0775, 104.4515) -> (41.8285, 103.2827)
  line L91 (41.8285, 103.2827) -> (46.0703, 100.8443)
  line L92 (46.0703, 100.8443) -> (49.4712, 97.3269)
  line L93 (49.4712, 97.3269) -> (74.1582, 63.3482)
  line L94 (74.1582, 63.3482) -> (76.4524, 59.0268)
  line L95 (76.4524, 59.0268) -> (77.4607, 54.2392)
  line L96 (77.4607, 54.2392) -> (77.1042, 49.3595)
  line L97 (77.1042, 49.3595) -> (75.4108, 44.7692)
  line L98 (75.4108, 44.7692) -> (74.122, 41.9784)
  line L99 (74.122, 41.9784) -> (73.4446, 40.1937)
  line L100 (73.4446, 40.1937) -> (73.2521, 38.2945)
  line L101 (73.2521, 38.2945) -> (73.5578, 36.4102)
  line L102 (73.5578, 36.4102) -> (74.3407, 34.6693)
  line L103 (74.3407, 34.6693) -> (75.5476, 33.1902)
  line L104 (75.5476, 33.1902) -> (77.0961, 32.074)
  line L105 (77.0961, 32.074) -> (78.8808, 31.3966)
  line L106 (78.8808, 31.3966) -> (80.78, 31.2041)
  line L107 (80.78, 31.2041) -> (82.6643, 31.5098)
  line L108 (82.6643, 31.5098) -> (84.4053, 32.2927)
  line L109 (84.4053, 32.2927) -> (85.8843, 33.4996)
  line L110 (85.8843, 33.4996) -> (87.0006, 35.0481)
  line L111 (87.0006, 35.0481) -> (88.6197, 37.6612)
  line L112 (88.6197, 37.6612) -> (91.5177, 41.6033)
  line L113 (91.5177, 41.6033) -> (95.3937, 44.589)
  line L114 (95.3937, 44.589) -> (99.9449, 46.385)
  line L115 (99.9449, 46.385) -> (104.8153, 46.8509)
  line L116 (104.8153, 46.8509) -> (146.773, 44.9666)
  line L117 (146.773, 44.9666) -> (151.582, 44.066)
  line L118 (151.582, 44.066) -> (155.9538, 41.8692)
  line L119 (155.9538, 41.8692) -> (159.5466, 38.5481)
  line L120 (159.5466, 38.5481) -> (162.0796, 34.3621)
  line L121 (162.0796, 34.3621) -> (163.458, 31.6144)
  line L122 (163.458, 31.6144) -> (164.431, 29.9721)
  line L123 (164.431, 29.9721) -> (165.7958, 28.6375)
  line L124 (165.7958, 28.6375) -> (167.4596, 27.7016)
  line L125 (167.4596, 27.7016) -> (169.3089, 27.2283)
  line L126 (169.3089, 27.2283) -> (171.2177, 27.2497)
  line L127 (171.2177, 27.2497) -> (173.0559, 27.7644)
  line L128 (173.0559, 27.7644) -> (174.6983, 28.7374)
  line L129 (174.6983, 28.7374) -> (176.0329, 30.1023)
  line L130 (176.0329, 30.1023) -> (176.9687, 31.766)
  line L131 (176.9687, 31.766) -> (177.4421, 33.6153)
  line L132 (177.4421, 33.6153) -> (177.4207, 35.5241)
  line L133 (177.4207, 35.5241) -> (176.9059, 37.3624)
  line L134 (176.9059, 37.3624) -> (175.8725, 40.2575)
  line L135 (175.8725, 40.2575) -> (174.5974, 44.9811)
  line L136 (174.5974, 44.9811) -> (174.6797, 49.873)
  line L137 (174.6797, 49.873) -> (176.1131, 54.551)
  line L138 (176.1131, 54.551) -> (178.7855, 58.6494)
  line L139 (178.7855, 58.6494) -> (206.4189, 90.2784)
  line L140 (206.4189, 90.2784) -> (210.1214, 93.4767)
  line L141 (210.1214, 93.4767) -> (214.5647, 95.5251)
  line L142 (214.5647, 95.5251) -> (219.4013, 96.2633)
  line L143 (219.4013, 96.2633) -> (224.2533, 95.6338)
  line L144 (224.2533, 95.6338) -> (227.261, 94.9983)
  line L145 (227.261, 94.9983) -> (229.1516, 94.735)
  line L146 (229.1516, 94.735) -> (231.046, 94.97)
  line L147 (231.046, 94.97) -> (232.8151, 95.6873)
  line L148 (232.8151, 95.6873) -> (234.3382, 96.838)
  line L149 (234.3382, 96.838) -> (235.5115, 98.3438)
  line L150 (235.5115, 98.3438) -> (236.2552, 100.1018)
  line L151 (236.2552, 100.1018) -> (236.5185, 101.9925)
  line L152 (236.5185, 101.9925) -> (236.2835, 103.8869)
  line L153 (236.2835, 103.8869) -> (235.5662, 105.656)
  line L154 (235.5662, 105.656) -> (234.4155, 107.1791)
  line L155 (234.4155, 107.1791) -> (232.9098, 108.3524)
  line L156 (232.9098, 108.3524) -> (231.1517, 109.0961)
  line L157 (231.1517, 109.0961) -> (228.2439, 110.0932)
  line L158 (228.2439, 110.0932) -> (223.7558, 112.0414)
  line L159 (223.7558, 112.0414) -> (219.9824, 115.1559)
  line L160 (219.9824, 115.1559) -> (217.2187, 119.1932)
  line L161 (217.2187, 119.1932) -> (215.6807, 123.8378)
  line L162 (215.6807, 123.8378) -> (208.1814, 165.1629)
  circle A0 centre (129.5505, 129.5505) radius 10.75
  dimension "d0" = 21.5
extrude "Extrusion1" add sketch "Sketch2" along normal blind 12
properties part number "sprocket"
